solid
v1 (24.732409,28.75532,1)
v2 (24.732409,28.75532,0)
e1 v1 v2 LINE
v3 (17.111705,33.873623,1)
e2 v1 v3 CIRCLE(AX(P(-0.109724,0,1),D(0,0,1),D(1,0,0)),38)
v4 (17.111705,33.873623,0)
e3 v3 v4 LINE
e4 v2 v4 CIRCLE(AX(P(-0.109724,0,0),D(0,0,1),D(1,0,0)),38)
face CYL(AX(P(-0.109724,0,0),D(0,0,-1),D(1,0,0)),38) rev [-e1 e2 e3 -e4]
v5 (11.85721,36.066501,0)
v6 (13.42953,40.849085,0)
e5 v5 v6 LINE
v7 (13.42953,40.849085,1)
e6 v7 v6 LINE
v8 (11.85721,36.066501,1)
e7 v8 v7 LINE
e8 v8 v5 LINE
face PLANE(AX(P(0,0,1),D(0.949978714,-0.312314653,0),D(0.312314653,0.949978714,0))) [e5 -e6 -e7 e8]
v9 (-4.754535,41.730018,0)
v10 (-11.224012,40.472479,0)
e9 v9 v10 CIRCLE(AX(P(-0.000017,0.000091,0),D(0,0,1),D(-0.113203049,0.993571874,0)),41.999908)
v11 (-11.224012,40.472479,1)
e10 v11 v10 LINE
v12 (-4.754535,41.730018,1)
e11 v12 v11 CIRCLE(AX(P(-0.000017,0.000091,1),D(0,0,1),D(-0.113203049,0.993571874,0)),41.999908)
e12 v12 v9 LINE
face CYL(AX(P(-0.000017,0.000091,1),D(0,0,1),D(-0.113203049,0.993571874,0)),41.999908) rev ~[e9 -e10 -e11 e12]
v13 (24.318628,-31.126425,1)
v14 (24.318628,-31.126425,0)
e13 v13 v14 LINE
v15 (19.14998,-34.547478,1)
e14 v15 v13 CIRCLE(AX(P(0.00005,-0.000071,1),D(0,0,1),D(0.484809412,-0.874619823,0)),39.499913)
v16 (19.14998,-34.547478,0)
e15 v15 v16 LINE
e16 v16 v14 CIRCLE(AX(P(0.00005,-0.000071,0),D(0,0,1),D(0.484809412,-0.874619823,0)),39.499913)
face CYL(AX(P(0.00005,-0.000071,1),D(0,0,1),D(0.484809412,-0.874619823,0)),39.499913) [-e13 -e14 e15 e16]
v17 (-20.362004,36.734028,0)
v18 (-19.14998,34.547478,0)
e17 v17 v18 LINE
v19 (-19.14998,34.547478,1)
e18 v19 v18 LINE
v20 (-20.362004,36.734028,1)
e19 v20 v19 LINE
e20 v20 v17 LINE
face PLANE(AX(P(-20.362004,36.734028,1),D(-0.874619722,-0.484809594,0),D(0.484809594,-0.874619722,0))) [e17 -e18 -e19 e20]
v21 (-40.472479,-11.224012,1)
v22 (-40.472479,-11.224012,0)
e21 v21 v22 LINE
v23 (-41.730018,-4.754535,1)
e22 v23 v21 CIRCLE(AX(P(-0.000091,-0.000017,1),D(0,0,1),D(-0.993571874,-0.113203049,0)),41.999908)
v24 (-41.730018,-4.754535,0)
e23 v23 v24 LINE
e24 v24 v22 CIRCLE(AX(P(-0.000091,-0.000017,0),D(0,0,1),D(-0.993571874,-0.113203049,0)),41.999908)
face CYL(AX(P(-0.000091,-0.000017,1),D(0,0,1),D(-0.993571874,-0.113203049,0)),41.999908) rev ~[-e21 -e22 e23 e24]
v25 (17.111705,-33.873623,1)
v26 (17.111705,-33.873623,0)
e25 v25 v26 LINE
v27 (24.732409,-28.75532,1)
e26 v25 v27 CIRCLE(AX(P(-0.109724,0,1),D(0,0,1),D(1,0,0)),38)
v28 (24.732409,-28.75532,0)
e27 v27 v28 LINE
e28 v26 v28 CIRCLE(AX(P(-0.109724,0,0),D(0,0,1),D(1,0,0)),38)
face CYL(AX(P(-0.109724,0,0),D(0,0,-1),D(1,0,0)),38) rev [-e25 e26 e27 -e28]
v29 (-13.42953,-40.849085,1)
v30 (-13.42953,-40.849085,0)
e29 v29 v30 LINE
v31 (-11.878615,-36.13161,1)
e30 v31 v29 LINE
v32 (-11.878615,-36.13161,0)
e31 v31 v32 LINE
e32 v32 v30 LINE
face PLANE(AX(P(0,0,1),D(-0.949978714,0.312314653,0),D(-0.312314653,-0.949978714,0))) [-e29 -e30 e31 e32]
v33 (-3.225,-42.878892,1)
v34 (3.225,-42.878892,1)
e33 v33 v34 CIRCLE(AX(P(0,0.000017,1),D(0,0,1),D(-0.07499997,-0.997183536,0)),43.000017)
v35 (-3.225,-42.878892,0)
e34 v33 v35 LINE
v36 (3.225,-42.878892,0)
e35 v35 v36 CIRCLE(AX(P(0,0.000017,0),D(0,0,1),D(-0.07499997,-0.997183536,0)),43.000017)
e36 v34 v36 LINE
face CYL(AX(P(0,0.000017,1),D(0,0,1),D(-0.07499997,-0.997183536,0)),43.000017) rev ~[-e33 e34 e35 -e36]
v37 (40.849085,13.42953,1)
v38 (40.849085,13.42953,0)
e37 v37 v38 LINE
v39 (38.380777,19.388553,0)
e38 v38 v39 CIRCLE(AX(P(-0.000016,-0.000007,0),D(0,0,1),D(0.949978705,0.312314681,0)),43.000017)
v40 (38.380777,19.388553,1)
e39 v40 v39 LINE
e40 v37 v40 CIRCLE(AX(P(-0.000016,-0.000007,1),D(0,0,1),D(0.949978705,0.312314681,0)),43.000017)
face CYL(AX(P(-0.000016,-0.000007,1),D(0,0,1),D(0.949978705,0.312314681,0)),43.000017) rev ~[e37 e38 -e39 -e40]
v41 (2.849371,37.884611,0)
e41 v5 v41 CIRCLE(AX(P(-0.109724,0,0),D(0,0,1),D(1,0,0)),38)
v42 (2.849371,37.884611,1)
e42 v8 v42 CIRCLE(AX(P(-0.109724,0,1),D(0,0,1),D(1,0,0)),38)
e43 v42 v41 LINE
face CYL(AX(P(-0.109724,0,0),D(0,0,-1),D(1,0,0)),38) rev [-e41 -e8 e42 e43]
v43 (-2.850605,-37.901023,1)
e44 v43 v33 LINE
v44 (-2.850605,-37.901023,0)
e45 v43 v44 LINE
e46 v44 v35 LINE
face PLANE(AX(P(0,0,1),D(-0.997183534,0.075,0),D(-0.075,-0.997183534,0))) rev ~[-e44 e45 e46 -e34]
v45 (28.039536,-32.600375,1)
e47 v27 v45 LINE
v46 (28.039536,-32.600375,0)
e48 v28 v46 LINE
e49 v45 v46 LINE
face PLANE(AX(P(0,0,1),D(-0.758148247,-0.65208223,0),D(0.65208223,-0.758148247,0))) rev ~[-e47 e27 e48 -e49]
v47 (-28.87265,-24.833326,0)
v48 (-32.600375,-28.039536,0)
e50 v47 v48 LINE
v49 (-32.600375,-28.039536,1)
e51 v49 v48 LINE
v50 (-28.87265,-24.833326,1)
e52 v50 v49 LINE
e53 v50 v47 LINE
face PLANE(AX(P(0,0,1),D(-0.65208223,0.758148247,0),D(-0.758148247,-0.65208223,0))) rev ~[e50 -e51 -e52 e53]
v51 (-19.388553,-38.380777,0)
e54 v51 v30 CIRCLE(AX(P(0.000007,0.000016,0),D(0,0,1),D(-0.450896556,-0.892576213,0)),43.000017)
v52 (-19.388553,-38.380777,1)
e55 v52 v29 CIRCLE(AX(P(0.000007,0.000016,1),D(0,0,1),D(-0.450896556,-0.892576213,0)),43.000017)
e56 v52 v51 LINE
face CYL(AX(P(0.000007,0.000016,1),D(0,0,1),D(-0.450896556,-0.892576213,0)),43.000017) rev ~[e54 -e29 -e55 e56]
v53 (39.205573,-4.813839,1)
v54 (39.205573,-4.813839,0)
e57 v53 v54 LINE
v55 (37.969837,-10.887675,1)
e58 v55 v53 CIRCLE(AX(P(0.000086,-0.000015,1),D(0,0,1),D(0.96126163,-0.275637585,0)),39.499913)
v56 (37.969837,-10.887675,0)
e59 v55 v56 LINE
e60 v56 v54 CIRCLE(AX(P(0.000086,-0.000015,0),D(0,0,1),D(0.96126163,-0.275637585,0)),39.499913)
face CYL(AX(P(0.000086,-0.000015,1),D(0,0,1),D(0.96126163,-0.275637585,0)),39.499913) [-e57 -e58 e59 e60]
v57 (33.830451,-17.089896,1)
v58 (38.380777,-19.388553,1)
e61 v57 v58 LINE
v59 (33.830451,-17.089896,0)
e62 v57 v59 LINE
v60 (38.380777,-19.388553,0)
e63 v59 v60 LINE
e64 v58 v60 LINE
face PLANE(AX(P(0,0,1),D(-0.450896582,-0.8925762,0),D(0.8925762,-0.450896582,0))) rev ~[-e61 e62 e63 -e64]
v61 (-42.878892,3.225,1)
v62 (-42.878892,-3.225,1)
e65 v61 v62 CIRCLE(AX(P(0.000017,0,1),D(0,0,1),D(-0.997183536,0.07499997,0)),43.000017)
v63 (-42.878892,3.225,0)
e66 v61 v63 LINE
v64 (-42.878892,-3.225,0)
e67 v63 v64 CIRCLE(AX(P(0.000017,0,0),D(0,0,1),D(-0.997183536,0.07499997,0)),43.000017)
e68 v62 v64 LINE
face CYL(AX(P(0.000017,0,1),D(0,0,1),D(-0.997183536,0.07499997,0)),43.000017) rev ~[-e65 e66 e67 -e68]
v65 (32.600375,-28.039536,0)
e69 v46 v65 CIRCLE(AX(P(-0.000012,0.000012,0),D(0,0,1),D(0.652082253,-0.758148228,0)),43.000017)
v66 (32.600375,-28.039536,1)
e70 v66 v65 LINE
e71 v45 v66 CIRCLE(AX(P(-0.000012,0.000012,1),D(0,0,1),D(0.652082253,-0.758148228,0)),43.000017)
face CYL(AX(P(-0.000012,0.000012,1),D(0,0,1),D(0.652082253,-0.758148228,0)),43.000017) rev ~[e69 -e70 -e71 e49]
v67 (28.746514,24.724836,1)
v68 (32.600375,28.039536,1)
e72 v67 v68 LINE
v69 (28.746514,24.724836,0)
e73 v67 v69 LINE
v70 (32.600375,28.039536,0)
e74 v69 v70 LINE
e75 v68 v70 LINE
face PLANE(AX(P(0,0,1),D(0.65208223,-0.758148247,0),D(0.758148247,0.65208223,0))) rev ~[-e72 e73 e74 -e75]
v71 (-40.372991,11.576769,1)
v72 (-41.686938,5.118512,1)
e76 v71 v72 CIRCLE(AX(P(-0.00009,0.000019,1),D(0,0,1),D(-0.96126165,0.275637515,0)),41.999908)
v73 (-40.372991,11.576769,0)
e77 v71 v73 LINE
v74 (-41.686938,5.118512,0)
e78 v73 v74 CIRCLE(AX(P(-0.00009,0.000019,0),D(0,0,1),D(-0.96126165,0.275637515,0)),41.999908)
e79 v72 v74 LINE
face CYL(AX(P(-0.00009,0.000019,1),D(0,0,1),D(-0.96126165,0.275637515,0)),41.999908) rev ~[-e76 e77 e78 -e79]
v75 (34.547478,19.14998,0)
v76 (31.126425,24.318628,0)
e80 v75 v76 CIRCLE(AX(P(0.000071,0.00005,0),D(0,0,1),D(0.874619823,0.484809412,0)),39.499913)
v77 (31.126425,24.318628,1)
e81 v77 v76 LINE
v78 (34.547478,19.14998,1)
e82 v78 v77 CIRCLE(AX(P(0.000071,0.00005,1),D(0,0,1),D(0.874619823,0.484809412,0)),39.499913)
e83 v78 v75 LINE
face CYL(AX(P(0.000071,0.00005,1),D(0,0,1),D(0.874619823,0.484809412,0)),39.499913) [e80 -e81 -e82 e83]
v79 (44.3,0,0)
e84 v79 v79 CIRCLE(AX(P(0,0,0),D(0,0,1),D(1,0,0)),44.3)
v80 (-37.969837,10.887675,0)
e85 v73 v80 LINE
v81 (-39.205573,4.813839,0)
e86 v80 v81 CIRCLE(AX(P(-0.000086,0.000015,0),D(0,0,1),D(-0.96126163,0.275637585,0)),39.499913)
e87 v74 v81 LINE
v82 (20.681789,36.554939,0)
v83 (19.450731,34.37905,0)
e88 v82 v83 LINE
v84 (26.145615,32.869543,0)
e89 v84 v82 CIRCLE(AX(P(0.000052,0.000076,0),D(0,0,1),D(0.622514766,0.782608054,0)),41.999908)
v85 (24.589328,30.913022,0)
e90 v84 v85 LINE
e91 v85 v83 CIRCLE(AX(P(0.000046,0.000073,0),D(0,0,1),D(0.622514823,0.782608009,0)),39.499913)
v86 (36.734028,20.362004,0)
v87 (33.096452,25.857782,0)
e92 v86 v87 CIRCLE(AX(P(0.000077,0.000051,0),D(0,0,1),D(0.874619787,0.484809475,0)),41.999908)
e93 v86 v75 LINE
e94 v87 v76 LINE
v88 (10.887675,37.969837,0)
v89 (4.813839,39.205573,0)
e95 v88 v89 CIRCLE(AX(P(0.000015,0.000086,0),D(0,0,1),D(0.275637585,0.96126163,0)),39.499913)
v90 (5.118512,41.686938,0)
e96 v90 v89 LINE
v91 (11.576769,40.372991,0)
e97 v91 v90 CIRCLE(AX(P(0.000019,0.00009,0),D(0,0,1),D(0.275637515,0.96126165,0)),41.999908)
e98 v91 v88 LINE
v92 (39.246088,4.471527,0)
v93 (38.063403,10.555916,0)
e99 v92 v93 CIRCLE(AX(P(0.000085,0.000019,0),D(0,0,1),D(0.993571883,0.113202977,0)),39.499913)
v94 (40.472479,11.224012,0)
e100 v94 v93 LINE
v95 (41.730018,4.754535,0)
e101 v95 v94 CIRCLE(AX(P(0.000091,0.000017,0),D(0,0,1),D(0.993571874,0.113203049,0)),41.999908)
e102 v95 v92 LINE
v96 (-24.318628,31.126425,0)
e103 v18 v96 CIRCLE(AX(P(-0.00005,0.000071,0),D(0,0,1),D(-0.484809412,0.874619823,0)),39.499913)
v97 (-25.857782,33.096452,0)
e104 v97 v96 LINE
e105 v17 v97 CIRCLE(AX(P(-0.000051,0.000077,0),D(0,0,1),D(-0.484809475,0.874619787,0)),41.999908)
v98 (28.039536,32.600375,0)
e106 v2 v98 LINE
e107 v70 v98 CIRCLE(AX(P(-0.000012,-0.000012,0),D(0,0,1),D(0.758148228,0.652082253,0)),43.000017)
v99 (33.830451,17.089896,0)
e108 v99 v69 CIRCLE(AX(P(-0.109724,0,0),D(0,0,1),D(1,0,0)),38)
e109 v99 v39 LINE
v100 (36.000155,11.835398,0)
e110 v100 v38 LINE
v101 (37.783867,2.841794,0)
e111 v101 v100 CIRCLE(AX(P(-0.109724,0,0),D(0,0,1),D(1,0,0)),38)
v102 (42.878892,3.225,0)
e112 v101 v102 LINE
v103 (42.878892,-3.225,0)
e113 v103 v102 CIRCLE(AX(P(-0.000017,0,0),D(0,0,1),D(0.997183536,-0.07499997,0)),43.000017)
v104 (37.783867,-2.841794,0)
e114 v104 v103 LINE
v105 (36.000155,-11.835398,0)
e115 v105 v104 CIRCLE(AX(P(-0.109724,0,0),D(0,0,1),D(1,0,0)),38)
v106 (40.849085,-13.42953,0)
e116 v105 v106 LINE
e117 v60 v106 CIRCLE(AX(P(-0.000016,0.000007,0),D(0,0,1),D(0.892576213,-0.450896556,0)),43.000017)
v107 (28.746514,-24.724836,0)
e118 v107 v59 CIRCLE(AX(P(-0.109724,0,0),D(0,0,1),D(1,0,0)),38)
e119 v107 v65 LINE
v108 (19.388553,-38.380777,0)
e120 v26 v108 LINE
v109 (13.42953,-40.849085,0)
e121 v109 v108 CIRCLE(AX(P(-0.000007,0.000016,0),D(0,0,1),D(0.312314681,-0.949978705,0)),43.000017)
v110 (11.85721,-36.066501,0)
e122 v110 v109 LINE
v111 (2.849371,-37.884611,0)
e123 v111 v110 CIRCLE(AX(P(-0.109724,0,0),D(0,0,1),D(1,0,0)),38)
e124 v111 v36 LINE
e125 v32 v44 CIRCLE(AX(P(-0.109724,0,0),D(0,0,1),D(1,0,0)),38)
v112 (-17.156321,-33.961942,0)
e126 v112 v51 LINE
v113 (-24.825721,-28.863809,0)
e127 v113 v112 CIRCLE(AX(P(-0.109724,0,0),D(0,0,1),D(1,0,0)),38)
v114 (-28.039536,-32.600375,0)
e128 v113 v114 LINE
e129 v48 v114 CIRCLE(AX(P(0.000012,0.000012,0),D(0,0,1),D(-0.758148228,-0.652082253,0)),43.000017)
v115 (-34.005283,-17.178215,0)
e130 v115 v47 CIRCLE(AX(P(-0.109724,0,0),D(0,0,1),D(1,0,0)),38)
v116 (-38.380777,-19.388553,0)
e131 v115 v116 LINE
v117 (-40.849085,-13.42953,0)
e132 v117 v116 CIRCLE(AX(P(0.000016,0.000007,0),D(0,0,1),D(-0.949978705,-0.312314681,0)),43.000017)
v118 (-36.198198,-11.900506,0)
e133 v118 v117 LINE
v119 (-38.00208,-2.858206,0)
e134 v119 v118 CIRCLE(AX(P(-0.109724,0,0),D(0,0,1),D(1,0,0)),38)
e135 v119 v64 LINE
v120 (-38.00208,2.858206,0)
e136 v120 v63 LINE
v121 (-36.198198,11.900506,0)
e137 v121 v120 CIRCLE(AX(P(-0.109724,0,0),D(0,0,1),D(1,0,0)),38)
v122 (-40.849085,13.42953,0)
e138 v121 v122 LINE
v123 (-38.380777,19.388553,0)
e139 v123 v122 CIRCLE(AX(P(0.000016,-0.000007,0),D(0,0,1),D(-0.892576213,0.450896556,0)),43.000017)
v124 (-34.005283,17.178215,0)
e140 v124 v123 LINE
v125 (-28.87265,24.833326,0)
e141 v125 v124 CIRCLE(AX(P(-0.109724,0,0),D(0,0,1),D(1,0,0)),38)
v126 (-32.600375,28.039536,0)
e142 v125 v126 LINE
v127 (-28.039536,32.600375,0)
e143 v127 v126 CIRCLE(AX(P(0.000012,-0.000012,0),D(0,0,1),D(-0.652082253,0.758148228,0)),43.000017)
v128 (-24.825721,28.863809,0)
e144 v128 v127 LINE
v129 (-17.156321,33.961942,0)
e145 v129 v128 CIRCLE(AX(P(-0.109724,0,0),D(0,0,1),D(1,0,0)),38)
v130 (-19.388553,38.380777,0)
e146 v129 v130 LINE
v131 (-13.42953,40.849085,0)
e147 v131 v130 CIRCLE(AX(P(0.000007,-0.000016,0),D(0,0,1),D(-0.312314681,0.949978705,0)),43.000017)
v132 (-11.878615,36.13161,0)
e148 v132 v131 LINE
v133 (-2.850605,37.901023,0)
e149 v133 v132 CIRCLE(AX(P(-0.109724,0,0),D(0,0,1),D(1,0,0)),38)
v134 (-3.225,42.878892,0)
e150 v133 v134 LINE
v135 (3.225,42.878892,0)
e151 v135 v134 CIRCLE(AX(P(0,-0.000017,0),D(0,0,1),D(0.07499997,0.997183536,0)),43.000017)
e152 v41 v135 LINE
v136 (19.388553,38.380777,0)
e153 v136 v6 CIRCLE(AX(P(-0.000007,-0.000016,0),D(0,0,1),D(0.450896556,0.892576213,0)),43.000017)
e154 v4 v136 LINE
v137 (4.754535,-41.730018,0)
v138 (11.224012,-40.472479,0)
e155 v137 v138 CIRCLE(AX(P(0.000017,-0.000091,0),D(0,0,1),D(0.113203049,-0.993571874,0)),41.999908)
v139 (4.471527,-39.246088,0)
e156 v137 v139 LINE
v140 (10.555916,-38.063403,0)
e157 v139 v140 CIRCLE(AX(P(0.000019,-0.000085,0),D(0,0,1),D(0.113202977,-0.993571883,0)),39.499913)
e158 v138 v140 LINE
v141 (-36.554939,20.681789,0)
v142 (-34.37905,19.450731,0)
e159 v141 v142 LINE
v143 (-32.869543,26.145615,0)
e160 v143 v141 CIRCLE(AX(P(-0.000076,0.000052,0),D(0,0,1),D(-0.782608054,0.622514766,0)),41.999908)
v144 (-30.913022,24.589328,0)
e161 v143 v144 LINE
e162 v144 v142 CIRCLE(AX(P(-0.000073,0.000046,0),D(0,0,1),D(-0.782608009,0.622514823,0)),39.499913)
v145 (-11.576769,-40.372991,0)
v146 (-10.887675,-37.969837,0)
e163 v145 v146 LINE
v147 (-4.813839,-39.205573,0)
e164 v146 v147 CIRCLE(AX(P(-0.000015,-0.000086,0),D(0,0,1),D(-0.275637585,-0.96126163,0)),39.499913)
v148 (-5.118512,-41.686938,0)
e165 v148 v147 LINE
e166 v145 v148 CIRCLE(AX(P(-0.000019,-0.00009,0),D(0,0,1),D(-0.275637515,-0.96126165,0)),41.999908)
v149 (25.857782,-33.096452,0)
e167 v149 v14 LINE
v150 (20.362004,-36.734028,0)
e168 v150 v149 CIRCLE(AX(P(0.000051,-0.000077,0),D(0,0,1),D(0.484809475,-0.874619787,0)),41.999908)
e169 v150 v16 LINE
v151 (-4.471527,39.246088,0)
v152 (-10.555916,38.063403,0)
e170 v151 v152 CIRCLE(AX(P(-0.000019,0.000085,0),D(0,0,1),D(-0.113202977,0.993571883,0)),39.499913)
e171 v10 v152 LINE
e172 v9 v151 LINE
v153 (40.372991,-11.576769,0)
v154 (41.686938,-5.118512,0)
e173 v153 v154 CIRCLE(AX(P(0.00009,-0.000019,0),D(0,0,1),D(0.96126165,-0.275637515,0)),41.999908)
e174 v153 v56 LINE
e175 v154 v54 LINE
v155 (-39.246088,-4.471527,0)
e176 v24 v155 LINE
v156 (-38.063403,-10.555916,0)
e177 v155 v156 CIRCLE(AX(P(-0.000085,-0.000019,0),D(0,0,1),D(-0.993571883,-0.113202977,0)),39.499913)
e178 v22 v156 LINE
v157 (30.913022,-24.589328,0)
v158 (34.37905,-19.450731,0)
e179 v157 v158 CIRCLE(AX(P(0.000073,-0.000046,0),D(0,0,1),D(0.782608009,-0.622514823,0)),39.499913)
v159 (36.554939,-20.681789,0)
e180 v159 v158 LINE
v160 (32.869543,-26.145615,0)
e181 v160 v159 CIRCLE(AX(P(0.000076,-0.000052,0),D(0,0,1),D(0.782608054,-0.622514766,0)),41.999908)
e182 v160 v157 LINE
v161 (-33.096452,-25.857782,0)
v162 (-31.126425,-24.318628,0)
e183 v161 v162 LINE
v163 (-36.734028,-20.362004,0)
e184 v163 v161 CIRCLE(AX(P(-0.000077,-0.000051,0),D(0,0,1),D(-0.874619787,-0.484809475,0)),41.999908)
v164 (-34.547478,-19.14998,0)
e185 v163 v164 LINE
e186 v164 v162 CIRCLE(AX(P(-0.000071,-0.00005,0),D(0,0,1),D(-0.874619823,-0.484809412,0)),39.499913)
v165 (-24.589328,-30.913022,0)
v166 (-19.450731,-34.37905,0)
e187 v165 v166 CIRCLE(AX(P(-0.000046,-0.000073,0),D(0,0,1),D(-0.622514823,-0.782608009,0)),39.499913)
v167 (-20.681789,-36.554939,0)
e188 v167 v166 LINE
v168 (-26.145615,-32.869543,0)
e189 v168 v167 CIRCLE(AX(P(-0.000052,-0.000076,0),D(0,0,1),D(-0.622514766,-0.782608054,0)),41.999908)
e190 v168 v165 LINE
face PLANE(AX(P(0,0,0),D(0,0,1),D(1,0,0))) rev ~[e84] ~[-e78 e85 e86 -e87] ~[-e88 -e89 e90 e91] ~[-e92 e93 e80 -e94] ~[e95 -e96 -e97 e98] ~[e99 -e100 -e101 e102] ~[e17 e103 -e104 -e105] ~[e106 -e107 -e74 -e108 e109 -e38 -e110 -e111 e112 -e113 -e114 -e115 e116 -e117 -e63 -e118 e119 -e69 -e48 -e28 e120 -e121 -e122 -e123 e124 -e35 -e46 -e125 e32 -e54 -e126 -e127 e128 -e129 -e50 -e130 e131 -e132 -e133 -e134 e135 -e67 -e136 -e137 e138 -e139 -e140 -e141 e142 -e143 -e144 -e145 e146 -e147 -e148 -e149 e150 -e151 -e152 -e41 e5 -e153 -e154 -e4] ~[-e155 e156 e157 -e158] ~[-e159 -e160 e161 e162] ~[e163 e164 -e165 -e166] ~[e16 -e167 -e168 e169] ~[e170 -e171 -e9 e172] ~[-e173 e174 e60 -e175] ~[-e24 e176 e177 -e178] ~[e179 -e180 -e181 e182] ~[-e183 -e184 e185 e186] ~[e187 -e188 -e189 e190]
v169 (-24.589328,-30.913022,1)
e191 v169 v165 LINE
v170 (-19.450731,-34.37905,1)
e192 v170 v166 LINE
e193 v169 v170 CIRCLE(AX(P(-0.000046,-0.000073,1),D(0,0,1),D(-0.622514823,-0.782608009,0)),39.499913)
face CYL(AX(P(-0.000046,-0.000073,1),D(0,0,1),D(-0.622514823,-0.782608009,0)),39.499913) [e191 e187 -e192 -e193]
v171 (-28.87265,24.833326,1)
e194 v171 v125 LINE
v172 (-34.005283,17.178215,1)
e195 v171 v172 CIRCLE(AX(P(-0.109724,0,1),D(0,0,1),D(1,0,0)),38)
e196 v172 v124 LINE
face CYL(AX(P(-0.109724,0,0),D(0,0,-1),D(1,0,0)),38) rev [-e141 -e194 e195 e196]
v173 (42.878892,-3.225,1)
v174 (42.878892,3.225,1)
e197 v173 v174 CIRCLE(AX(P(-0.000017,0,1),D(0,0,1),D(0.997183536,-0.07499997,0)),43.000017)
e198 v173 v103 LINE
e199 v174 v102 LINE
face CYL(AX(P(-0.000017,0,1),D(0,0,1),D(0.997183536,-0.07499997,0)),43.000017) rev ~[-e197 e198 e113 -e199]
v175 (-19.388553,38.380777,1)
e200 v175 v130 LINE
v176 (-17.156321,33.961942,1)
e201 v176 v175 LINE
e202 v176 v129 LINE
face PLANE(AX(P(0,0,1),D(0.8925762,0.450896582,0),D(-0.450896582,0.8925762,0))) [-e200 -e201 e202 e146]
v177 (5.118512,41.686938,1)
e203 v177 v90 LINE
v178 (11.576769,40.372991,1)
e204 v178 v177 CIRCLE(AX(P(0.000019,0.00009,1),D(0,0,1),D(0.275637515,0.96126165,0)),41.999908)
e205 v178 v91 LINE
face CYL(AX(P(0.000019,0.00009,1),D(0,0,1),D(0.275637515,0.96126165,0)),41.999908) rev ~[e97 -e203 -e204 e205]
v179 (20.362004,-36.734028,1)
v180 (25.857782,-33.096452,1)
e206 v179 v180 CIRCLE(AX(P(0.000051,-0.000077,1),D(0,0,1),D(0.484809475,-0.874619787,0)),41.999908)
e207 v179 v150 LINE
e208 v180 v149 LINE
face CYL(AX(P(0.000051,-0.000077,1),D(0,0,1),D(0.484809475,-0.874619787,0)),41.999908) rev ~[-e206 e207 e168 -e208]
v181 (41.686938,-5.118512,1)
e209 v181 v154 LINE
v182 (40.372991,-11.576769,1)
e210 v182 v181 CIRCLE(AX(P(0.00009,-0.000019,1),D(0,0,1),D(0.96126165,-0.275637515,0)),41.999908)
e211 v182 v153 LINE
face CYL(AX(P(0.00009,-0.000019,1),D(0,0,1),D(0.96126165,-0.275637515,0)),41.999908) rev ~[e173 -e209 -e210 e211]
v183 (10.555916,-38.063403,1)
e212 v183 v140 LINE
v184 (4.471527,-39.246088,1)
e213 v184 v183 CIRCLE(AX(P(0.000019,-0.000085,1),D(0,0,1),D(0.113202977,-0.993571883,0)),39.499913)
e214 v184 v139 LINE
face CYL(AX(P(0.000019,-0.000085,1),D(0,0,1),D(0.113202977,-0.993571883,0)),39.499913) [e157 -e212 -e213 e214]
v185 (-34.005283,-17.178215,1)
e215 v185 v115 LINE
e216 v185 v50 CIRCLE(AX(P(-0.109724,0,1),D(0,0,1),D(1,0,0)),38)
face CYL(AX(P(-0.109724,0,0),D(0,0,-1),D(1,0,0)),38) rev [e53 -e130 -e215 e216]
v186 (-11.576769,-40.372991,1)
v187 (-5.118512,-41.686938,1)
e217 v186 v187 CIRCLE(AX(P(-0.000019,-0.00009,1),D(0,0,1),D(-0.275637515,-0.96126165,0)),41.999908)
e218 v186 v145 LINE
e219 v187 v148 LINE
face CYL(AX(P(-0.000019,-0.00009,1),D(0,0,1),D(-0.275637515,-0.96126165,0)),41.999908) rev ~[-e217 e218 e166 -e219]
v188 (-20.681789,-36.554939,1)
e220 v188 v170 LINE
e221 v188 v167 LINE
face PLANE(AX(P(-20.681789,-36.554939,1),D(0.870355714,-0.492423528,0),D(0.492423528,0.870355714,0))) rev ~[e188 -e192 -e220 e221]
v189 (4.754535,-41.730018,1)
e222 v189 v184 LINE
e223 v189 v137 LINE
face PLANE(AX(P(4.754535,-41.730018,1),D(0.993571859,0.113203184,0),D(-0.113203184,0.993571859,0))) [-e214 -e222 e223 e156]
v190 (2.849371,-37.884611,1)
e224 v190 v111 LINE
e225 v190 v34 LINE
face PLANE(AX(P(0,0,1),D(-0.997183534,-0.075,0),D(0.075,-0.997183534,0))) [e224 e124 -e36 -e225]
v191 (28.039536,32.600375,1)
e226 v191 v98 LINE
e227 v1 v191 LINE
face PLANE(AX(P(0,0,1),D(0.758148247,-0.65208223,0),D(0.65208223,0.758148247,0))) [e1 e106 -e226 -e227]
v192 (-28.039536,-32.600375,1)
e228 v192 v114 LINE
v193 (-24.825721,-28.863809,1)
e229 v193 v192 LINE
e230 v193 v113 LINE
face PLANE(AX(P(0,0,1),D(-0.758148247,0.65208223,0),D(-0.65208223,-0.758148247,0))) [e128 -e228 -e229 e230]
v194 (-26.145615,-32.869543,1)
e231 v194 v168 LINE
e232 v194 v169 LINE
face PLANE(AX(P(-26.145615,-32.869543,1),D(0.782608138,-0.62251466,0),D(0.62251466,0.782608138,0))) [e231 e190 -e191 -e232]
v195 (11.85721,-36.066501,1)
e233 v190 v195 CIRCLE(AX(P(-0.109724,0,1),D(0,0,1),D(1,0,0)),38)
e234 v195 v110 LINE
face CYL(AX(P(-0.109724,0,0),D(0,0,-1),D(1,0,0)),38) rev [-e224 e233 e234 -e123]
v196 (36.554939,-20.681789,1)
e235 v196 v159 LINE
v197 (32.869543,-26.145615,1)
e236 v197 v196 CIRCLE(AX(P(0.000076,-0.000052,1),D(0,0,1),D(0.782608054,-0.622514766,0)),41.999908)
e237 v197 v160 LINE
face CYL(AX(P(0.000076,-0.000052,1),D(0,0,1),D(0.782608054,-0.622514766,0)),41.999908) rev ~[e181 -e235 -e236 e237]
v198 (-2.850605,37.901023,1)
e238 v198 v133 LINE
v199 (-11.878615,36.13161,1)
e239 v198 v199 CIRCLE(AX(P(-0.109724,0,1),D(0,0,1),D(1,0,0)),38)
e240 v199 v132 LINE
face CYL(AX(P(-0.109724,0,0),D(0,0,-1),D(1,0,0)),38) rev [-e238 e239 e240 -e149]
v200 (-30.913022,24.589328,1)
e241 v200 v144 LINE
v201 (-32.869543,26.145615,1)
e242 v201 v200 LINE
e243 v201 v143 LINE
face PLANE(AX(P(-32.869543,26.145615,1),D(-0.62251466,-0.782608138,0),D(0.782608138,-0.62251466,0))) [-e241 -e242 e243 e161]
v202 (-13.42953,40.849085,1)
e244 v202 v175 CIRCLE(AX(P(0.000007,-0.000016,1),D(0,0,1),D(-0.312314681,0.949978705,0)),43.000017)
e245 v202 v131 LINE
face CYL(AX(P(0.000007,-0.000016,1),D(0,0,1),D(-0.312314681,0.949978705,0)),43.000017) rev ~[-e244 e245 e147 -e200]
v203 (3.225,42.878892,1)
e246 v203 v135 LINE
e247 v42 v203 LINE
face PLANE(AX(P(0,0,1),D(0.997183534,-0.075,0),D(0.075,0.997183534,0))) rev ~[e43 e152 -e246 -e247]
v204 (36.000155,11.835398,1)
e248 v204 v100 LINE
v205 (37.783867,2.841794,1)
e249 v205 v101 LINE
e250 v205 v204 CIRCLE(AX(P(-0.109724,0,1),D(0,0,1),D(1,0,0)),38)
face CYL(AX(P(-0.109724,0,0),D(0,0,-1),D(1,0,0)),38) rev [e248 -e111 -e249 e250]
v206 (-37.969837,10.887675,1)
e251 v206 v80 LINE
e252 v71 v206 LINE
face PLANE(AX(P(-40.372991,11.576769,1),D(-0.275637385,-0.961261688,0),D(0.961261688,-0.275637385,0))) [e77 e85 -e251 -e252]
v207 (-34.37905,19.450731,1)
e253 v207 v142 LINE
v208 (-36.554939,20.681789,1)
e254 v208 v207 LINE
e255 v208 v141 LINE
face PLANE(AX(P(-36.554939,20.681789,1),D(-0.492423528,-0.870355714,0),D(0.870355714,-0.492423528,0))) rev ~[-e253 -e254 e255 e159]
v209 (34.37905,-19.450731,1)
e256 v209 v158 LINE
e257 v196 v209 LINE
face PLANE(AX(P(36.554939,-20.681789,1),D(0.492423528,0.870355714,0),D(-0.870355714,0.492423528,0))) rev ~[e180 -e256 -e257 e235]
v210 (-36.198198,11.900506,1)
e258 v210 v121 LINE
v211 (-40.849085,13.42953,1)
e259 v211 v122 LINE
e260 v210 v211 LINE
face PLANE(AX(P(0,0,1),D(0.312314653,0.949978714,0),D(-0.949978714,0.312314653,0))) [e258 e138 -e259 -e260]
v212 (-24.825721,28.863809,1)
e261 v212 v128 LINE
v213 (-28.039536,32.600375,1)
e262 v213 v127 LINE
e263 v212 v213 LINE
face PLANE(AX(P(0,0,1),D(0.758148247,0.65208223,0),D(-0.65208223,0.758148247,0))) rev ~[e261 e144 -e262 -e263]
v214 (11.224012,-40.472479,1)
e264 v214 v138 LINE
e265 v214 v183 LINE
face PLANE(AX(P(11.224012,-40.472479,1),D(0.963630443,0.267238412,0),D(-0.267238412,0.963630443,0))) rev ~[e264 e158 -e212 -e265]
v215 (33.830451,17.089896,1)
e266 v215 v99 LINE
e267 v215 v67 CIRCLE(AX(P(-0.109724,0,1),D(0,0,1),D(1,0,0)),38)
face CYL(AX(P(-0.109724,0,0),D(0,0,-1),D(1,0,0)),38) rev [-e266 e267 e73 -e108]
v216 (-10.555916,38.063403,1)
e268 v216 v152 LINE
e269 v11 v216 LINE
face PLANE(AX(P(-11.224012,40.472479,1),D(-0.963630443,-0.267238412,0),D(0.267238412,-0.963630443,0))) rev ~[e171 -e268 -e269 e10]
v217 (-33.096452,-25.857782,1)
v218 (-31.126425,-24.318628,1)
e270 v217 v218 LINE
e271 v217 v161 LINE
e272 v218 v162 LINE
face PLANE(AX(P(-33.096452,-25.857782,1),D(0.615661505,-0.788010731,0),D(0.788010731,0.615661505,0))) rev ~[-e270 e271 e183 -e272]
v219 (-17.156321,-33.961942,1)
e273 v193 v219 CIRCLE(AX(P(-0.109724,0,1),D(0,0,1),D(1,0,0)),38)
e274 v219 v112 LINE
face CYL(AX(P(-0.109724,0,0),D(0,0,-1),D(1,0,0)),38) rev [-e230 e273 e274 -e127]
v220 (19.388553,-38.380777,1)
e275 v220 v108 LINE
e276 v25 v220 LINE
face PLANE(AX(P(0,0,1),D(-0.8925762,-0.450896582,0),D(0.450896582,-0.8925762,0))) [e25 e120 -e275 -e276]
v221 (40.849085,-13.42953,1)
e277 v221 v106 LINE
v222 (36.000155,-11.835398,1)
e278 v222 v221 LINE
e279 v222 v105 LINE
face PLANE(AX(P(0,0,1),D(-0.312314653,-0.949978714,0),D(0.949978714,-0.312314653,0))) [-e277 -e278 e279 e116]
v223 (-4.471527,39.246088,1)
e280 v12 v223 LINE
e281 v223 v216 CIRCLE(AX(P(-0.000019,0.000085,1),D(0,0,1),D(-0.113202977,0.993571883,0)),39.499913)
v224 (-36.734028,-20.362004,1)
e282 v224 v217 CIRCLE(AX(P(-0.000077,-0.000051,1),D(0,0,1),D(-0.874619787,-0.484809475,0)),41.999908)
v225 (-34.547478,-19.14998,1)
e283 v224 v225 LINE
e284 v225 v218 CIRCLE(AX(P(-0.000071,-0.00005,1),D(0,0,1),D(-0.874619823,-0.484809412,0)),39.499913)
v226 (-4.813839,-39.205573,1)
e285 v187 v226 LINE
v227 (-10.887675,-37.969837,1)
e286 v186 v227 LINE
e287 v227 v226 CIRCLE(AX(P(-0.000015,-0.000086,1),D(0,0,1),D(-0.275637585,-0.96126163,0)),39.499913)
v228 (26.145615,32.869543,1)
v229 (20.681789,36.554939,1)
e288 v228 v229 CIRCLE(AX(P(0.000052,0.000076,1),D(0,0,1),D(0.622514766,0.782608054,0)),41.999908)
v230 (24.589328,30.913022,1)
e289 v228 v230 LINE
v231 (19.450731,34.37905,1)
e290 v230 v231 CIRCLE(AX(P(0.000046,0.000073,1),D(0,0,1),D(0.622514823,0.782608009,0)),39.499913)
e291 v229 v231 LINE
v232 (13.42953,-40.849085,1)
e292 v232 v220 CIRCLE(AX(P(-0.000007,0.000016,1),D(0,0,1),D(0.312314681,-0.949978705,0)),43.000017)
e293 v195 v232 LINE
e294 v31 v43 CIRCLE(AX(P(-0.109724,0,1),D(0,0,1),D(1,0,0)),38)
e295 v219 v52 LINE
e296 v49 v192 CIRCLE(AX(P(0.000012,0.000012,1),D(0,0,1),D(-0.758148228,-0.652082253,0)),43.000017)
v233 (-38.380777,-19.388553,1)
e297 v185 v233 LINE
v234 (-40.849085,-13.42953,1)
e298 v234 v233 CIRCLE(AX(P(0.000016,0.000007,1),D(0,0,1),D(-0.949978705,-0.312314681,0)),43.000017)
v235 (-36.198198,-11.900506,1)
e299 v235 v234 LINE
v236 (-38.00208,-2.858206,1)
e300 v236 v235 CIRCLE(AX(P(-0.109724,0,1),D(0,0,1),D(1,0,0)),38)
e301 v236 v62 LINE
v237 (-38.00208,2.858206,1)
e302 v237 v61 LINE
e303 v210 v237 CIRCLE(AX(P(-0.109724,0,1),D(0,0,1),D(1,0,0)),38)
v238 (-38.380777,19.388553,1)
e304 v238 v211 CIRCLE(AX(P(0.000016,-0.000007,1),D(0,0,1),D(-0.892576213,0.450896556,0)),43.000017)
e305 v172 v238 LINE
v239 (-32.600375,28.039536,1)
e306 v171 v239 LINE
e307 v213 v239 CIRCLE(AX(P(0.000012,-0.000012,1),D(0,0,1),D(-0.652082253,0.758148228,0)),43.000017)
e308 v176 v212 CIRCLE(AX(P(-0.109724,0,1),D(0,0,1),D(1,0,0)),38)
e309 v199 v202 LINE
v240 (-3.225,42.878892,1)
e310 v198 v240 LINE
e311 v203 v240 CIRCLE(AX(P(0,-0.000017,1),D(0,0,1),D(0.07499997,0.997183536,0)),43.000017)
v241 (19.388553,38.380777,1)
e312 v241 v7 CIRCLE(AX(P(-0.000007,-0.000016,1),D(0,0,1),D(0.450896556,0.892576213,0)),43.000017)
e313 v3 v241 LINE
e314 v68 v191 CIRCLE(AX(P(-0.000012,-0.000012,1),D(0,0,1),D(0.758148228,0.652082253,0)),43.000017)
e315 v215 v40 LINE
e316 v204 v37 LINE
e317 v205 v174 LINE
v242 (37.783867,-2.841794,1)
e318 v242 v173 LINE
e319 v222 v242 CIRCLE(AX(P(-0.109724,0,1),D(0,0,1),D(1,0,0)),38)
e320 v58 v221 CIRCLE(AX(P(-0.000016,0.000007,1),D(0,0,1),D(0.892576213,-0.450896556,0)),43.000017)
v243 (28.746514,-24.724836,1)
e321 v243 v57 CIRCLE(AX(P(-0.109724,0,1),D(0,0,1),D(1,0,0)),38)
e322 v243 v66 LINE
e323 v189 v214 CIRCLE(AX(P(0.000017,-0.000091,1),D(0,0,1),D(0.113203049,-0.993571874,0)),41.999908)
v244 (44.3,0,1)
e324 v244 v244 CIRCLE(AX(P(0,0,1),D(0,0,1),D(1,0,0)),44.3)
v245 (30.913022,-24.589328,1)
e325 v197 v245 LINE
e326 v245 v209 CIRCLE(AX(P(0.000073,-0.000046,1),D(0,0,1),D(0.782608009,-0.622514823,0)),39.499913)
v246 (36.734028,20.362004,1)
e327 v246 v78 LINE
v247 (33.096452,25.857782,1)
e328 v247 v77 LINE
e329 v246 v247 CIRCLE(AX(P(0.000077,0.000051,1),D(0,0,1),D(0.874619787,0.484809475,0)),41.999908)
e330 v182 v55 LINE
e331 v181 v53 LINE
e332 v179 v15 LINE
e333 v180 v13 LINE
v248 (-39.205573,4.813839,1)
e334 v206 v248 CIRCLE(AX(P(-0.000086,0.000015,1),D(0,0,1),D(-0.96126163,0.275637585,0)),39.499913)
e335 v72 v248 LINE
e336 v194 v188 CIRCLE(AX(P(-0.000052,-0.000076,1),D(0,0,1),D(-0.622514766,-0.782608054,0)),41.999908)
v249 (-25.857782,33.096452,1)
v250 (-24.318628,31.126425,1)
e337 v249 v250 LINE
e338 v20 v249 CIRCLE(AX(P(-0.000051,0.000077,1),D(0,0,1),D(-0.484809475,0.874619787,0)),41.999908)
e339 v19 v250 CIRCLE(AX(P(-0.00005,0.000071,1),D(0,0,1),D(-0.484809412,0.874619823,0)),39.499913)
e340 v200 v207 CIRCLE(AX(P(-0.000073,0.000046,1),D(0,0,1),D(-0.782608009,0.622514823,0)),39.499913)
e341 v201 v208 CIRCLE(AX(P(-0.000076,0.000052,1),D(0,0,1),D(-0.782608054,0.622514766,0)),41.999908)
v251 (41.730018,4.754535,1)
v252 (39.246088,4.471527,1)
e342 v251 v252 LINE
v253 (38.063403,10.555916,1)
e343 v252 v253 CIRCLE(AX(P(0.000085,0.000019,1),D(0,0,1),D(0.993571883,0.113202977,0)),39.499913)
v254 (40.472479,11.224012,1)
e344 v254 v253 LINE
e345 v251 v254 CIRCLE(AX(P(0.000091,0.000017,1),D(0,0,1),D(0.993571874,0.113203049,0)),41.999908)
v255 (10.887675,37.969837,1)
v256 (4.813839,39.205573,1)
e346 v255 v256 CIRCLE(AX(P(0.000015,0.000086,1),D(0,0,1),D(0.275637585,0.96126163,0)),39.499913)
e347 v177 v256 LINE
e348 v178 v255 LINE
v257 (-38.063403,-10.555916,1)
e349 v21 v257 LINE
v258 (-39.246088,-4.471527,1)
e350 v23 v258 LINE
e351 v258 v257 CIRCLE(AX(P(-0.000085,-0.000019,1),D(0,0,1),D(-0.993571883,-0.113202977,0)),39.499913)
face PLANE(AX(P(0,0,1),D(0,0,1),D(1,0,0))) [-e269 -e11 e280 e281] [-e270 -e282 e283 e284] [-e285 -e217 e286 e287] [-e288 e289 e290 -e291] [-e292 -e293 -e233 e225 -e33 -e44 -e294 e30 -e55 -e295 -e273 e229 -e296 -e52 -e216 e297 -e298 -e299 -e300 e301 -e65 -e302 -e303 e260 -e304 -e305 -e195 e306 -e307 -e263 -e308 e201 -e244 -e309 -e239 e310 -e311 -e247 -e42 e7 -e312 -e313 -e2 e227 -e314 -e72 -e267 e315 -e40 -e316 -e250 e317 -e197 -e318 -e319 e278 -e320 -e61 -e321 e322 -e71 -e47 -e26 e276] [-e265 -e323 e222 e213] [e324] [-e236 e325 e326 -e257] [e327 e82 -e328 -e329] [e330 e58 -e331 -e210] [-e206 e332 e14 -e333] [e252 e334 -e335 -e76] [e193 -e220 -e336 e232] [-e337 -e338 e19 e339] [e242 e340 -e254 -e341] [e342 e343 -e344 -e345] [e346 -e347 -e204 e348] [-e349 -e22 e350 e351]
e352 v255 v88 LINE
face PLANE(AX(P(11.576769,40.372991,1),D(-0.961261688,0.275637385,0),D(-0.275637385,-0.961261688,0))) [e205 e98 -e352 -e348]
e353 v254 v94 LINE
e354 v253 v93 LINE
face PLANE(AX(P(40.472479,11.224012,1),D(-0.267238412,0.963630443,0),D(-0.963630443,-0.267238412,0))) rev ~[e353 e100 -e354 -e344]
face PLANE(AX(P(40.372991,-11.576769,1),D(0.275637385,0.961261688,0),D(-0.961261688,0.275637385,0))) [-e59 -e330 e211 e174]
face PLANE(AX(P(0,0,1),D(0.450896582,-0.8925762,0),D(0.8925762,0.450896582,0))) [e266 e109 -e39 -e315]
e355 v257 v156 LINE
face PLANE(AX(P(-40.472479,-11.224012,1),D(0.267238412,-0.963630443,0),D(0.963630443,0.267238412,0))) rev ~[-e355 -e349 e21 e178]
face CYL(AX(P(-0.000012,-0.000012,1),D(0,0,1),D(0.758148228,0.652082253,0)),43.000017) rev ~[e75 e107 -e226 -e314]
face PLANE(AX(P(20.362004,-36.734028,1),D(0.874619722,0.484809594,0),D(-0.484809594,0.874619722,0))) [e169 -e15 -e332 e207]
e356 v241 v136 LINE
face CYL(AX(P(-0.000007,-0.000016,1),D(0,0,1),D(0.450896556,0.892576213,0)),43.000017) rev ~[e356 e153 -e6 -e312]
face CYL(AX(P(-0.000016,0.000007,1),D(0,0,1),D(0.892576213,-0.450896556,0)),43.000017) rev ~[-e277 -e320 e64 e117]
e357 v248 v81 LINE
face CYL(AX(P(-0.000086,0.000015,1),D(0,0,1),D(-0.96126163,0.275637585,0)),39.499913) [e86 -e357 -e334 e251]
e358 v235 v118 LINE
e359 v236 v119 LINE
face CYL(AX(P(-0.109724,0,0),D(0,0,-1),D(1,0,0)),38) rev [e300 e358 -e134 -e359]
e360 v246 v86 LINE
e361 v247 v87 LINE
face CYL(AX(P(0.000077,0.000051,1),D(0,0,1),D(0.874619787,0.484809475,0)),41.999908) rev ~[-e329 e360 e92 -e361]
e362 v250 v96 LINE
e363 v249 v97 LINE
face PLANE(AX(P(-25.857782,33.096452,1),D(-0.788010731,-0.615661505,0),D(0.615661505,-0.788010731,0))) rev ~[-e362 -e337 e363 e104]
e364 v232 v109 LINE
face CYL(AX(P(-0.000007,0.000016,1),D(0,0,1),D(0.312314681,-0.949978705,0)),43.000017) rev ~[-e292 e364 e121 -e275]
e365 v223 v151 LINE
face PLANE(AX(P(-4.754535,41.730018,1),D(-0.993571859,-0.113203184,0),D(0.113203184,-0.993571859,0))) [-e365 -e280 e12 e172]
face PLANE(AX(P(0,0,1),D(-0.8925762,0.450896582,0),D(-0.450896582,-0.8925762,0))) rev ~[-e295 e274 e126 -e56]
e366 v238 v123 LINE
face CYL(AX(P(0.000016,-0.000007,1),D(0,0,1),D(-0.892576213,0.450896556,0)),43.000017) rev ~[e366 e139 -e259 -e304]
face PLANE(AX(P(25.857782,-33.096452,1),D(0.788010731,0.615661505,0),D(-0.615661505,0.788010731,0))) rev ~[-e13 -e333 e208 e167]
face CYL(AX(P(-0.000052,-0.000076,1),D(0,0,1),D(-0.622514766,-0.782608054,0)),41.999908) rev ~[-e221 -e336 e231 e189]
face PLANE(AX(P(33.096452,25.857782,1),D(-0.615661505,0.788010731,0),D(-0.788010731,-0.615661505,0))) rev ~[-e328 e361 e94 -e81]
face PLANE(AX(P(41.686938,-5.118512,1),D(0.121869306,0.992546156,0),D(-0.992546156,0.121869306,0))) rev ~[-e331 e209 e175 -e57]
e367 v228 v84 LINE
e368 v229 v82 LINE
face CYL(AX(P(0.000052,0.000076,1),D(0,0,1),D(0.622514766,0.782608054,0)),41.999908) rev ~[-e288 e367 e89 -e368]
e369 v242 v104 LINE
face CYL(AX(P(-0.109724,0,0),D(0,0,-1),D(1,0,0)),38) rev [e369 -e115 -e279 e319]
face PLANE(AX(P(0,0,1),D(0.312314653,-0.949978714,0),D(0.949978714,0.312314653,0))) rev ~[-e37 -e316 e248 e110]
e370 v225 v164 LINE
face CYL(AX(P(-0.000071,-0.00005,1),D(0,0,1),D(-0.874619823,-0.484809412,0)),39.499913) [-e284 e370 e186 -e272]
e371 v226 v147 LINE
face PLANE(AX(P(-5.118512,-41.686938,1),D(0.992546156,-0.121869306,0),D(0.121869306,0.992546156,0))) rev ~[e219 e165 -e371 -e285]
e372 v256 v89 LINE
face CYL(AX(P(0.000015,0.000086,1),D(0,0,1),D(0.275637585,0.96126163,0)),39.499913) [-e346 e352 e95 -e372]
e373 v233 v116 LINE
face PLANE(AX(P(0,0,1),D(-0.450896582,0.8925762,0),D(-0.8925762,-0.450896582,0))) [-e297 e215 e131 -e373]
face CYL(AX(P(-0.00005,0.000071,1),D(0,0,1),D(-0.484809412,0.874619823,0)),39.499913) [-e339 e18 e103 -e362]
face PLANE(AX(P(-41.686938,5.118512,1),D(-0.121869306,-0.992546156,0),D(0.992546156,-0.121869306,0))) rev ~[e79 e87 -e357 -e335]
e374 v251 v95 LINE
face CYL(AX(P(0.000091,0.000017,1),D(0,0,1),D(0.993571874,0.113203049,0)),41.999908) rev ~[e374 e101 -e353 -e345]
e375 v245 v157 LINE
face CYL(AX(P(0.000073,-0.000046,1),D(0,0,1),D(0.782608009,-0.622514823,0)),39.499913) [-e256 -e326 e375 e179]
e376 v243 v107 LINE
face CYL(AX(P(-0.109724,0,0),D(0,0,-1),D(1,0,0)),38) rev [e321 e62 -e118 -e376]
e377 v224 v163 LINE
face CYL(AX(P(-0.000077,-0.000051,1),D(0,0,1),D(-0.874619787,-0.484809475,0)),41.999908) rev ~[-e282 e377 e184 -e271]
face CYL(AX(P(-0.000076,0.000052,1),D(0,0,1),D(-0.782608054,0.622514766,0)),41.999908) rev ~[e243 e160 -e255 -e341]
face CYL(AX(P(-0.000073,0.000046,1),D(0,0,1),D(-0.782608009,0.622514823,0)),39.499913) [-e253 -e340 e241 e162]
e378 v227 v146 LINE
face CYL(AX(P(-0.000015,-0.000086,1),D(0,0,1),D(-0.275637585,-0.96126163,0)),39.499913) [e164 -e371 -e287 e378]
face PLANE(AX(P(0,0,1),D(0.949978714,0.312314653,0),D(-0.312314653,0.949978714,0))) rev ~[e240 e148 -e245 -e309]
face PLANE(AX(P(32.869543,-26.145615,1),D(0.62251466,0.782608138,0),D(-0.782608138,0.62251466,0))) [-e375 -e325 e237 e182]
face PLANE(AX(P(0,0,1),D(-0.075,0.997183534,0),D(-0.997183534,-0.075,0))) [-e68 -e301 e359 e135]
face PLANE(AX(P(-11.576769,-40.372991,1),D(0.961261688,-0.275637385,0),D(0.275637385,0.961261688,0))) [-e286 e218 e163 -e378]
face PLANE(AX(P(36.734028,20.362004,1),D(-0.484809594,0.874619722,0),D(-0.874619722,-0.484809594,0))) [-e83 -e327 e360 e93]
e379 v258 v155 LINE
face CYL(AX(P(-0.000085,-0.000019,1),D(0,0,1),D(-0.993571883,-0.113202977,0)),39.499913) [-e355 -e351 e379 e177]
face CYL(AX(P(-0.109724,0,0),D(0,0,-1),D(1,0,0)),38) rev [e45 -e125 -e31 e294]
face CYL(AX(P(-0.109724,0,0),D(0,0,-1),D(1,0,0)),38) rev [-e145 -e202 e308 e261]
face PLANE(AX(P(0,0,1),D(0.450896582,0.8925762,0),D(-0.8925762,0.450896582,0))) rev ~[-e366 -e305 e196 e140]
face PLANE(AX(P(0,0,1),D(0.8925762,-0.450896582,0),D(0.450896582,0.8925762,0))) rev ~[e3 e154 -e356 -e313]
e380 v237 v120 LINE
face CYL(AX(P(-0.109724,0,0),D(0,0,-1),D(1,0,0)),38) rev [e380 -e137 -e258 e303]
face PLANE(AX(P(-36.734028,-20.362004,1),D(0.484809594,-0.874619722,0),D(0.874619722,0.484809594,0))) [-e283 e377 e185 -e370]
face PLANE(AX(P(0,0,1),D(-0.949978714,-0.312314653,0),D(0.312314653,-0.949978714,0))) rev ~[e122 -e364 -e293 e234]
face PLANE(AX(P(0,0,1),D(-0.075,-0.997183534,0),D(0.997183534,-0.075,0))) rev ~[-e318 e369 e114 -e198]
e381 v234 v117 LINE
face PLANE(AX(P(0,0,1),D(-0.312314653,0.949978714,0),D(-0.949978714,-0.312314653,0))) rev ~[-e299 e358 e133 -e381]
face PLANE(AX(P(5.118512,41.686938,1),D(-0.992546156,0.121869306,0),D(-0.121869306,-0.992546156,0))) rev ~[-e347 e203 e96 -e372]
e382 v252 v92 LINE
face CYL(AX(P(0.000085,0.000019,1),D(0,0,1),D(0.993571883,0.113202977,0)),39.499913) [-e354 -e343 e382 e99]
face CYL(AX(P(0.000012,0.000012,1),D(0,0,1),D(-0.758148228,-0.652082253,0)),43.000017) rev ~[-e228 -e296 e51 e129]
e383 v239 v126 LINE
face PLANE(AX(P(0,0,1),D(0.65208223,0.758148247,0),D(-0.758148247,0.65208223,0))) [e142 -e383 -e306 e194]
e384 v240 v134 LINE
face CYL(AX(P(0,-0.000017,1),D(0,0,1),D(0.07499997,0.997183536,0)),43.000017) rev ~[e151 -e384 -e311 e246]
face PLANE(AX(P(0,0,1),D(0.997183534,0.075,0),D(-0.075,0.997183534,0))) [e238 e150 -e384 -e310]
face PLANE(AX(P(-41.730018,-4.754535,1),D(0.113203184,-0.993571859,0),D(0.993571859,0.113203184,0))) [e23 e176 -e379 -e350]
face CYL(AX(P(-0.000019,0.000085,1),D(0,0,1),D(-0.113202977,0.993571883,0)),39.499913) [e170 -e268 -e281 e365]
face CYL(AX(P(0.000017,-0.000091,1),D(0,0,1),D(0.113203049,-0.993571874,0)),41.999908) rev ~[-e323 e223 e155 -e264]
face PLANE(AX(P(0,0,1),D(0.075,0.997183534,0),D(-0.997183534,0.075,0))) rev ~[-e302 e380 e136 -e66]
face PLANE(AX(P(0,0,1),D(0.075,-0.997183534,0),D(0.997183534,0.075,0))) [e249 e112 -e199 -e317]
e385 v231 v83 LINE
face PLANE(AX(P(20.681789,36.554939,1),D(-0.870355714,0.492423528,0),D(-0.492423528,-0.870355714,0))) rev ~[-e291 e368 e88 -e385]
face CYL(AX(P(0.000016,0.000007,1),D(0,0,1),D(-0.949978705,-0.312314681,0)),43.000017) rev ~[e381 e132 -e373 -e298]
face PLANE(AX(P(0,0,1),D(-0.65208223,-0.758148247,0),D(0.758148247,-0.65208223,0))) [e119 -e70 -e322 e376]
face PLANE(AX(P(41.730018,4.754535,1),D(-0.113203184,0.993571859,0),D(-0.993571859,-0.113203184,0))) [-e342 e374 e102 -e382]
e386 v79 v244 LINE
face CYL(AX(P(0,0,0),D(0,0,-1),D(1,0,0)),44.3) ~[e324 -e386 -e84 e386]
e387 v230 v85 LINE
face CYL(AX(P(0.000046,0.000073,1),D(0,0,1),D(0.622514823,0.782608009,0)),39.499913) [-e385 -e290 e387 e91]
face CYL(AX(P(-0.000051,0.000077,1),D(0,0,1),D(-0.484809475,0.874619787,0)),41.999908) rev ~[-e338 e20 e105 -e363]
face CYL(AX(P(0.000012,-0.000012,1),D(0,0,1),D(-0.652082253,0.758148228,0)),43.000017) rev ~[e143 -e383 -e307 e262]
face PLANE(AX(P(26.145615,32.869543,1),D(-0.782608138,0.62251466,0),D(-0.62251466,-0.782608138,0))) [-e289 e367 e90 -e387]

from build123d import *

# Parameters (mm, degrees)
SKETCH_R           = 44.3
SKETCH_R_2         = 38
PAD_DEPTH          = 1
POCKET_DEPTH       = 251.607624
POLARPATTERN_COUNT = 16


with BuildPart() as part:
    # Sketch → Pad (new body)
    with BuildSketch(Plane.XY):
        Circle(SKETCH_R)
        with Locations((-0.109724, 0)):
            Circle(SKETCH_R_2, mode=Mode.SUBTRACT)
    extrude(amount=PAD_DEPTH)

    # Sketch001 → Pocket (cut, through all)
    with BuildSketch(Plane.XY.offset(1)):
        with BuildLine():
            ThreePointArc((42.878892, -3.225), (43, 0), (42.878892, 3.225))
            Line((0, 0), (42.878892, 3.225))
            Line((0, 0), (42.878892, -3.225))
        make_face()
        with BuildLine():
            ThreePointArc((41.730018, 4.754535), (41.228342, 8.013978), (40.472479, 11.224012))
            Line((40.472479, 11.224012), (38.063403, 10.555916))
            ThreePointArc((39.246088, 4.471527), (38.774274, 7.536955), (38.063403, 10.555916))
            Line((41.730018, 4.754535), (39.246088, 4.471527))
        make_face()
    pocket = extrude(amount=-POCKET_DEPTH, mode=Mode.SUBTRACT)

    # PolarPattern: Pocket ×16 about axis
    polarpattern_axis = Axis((0, 0, 1), (0, 0, 1))
    for i in range(1, POLARPATTERN_COUNT):
        add(pocket.rotate(polarpattern_axis, i * 360 / POLARPATTERN_COUNT), mode=Mode.SUBTRACT)


solid = part.part
